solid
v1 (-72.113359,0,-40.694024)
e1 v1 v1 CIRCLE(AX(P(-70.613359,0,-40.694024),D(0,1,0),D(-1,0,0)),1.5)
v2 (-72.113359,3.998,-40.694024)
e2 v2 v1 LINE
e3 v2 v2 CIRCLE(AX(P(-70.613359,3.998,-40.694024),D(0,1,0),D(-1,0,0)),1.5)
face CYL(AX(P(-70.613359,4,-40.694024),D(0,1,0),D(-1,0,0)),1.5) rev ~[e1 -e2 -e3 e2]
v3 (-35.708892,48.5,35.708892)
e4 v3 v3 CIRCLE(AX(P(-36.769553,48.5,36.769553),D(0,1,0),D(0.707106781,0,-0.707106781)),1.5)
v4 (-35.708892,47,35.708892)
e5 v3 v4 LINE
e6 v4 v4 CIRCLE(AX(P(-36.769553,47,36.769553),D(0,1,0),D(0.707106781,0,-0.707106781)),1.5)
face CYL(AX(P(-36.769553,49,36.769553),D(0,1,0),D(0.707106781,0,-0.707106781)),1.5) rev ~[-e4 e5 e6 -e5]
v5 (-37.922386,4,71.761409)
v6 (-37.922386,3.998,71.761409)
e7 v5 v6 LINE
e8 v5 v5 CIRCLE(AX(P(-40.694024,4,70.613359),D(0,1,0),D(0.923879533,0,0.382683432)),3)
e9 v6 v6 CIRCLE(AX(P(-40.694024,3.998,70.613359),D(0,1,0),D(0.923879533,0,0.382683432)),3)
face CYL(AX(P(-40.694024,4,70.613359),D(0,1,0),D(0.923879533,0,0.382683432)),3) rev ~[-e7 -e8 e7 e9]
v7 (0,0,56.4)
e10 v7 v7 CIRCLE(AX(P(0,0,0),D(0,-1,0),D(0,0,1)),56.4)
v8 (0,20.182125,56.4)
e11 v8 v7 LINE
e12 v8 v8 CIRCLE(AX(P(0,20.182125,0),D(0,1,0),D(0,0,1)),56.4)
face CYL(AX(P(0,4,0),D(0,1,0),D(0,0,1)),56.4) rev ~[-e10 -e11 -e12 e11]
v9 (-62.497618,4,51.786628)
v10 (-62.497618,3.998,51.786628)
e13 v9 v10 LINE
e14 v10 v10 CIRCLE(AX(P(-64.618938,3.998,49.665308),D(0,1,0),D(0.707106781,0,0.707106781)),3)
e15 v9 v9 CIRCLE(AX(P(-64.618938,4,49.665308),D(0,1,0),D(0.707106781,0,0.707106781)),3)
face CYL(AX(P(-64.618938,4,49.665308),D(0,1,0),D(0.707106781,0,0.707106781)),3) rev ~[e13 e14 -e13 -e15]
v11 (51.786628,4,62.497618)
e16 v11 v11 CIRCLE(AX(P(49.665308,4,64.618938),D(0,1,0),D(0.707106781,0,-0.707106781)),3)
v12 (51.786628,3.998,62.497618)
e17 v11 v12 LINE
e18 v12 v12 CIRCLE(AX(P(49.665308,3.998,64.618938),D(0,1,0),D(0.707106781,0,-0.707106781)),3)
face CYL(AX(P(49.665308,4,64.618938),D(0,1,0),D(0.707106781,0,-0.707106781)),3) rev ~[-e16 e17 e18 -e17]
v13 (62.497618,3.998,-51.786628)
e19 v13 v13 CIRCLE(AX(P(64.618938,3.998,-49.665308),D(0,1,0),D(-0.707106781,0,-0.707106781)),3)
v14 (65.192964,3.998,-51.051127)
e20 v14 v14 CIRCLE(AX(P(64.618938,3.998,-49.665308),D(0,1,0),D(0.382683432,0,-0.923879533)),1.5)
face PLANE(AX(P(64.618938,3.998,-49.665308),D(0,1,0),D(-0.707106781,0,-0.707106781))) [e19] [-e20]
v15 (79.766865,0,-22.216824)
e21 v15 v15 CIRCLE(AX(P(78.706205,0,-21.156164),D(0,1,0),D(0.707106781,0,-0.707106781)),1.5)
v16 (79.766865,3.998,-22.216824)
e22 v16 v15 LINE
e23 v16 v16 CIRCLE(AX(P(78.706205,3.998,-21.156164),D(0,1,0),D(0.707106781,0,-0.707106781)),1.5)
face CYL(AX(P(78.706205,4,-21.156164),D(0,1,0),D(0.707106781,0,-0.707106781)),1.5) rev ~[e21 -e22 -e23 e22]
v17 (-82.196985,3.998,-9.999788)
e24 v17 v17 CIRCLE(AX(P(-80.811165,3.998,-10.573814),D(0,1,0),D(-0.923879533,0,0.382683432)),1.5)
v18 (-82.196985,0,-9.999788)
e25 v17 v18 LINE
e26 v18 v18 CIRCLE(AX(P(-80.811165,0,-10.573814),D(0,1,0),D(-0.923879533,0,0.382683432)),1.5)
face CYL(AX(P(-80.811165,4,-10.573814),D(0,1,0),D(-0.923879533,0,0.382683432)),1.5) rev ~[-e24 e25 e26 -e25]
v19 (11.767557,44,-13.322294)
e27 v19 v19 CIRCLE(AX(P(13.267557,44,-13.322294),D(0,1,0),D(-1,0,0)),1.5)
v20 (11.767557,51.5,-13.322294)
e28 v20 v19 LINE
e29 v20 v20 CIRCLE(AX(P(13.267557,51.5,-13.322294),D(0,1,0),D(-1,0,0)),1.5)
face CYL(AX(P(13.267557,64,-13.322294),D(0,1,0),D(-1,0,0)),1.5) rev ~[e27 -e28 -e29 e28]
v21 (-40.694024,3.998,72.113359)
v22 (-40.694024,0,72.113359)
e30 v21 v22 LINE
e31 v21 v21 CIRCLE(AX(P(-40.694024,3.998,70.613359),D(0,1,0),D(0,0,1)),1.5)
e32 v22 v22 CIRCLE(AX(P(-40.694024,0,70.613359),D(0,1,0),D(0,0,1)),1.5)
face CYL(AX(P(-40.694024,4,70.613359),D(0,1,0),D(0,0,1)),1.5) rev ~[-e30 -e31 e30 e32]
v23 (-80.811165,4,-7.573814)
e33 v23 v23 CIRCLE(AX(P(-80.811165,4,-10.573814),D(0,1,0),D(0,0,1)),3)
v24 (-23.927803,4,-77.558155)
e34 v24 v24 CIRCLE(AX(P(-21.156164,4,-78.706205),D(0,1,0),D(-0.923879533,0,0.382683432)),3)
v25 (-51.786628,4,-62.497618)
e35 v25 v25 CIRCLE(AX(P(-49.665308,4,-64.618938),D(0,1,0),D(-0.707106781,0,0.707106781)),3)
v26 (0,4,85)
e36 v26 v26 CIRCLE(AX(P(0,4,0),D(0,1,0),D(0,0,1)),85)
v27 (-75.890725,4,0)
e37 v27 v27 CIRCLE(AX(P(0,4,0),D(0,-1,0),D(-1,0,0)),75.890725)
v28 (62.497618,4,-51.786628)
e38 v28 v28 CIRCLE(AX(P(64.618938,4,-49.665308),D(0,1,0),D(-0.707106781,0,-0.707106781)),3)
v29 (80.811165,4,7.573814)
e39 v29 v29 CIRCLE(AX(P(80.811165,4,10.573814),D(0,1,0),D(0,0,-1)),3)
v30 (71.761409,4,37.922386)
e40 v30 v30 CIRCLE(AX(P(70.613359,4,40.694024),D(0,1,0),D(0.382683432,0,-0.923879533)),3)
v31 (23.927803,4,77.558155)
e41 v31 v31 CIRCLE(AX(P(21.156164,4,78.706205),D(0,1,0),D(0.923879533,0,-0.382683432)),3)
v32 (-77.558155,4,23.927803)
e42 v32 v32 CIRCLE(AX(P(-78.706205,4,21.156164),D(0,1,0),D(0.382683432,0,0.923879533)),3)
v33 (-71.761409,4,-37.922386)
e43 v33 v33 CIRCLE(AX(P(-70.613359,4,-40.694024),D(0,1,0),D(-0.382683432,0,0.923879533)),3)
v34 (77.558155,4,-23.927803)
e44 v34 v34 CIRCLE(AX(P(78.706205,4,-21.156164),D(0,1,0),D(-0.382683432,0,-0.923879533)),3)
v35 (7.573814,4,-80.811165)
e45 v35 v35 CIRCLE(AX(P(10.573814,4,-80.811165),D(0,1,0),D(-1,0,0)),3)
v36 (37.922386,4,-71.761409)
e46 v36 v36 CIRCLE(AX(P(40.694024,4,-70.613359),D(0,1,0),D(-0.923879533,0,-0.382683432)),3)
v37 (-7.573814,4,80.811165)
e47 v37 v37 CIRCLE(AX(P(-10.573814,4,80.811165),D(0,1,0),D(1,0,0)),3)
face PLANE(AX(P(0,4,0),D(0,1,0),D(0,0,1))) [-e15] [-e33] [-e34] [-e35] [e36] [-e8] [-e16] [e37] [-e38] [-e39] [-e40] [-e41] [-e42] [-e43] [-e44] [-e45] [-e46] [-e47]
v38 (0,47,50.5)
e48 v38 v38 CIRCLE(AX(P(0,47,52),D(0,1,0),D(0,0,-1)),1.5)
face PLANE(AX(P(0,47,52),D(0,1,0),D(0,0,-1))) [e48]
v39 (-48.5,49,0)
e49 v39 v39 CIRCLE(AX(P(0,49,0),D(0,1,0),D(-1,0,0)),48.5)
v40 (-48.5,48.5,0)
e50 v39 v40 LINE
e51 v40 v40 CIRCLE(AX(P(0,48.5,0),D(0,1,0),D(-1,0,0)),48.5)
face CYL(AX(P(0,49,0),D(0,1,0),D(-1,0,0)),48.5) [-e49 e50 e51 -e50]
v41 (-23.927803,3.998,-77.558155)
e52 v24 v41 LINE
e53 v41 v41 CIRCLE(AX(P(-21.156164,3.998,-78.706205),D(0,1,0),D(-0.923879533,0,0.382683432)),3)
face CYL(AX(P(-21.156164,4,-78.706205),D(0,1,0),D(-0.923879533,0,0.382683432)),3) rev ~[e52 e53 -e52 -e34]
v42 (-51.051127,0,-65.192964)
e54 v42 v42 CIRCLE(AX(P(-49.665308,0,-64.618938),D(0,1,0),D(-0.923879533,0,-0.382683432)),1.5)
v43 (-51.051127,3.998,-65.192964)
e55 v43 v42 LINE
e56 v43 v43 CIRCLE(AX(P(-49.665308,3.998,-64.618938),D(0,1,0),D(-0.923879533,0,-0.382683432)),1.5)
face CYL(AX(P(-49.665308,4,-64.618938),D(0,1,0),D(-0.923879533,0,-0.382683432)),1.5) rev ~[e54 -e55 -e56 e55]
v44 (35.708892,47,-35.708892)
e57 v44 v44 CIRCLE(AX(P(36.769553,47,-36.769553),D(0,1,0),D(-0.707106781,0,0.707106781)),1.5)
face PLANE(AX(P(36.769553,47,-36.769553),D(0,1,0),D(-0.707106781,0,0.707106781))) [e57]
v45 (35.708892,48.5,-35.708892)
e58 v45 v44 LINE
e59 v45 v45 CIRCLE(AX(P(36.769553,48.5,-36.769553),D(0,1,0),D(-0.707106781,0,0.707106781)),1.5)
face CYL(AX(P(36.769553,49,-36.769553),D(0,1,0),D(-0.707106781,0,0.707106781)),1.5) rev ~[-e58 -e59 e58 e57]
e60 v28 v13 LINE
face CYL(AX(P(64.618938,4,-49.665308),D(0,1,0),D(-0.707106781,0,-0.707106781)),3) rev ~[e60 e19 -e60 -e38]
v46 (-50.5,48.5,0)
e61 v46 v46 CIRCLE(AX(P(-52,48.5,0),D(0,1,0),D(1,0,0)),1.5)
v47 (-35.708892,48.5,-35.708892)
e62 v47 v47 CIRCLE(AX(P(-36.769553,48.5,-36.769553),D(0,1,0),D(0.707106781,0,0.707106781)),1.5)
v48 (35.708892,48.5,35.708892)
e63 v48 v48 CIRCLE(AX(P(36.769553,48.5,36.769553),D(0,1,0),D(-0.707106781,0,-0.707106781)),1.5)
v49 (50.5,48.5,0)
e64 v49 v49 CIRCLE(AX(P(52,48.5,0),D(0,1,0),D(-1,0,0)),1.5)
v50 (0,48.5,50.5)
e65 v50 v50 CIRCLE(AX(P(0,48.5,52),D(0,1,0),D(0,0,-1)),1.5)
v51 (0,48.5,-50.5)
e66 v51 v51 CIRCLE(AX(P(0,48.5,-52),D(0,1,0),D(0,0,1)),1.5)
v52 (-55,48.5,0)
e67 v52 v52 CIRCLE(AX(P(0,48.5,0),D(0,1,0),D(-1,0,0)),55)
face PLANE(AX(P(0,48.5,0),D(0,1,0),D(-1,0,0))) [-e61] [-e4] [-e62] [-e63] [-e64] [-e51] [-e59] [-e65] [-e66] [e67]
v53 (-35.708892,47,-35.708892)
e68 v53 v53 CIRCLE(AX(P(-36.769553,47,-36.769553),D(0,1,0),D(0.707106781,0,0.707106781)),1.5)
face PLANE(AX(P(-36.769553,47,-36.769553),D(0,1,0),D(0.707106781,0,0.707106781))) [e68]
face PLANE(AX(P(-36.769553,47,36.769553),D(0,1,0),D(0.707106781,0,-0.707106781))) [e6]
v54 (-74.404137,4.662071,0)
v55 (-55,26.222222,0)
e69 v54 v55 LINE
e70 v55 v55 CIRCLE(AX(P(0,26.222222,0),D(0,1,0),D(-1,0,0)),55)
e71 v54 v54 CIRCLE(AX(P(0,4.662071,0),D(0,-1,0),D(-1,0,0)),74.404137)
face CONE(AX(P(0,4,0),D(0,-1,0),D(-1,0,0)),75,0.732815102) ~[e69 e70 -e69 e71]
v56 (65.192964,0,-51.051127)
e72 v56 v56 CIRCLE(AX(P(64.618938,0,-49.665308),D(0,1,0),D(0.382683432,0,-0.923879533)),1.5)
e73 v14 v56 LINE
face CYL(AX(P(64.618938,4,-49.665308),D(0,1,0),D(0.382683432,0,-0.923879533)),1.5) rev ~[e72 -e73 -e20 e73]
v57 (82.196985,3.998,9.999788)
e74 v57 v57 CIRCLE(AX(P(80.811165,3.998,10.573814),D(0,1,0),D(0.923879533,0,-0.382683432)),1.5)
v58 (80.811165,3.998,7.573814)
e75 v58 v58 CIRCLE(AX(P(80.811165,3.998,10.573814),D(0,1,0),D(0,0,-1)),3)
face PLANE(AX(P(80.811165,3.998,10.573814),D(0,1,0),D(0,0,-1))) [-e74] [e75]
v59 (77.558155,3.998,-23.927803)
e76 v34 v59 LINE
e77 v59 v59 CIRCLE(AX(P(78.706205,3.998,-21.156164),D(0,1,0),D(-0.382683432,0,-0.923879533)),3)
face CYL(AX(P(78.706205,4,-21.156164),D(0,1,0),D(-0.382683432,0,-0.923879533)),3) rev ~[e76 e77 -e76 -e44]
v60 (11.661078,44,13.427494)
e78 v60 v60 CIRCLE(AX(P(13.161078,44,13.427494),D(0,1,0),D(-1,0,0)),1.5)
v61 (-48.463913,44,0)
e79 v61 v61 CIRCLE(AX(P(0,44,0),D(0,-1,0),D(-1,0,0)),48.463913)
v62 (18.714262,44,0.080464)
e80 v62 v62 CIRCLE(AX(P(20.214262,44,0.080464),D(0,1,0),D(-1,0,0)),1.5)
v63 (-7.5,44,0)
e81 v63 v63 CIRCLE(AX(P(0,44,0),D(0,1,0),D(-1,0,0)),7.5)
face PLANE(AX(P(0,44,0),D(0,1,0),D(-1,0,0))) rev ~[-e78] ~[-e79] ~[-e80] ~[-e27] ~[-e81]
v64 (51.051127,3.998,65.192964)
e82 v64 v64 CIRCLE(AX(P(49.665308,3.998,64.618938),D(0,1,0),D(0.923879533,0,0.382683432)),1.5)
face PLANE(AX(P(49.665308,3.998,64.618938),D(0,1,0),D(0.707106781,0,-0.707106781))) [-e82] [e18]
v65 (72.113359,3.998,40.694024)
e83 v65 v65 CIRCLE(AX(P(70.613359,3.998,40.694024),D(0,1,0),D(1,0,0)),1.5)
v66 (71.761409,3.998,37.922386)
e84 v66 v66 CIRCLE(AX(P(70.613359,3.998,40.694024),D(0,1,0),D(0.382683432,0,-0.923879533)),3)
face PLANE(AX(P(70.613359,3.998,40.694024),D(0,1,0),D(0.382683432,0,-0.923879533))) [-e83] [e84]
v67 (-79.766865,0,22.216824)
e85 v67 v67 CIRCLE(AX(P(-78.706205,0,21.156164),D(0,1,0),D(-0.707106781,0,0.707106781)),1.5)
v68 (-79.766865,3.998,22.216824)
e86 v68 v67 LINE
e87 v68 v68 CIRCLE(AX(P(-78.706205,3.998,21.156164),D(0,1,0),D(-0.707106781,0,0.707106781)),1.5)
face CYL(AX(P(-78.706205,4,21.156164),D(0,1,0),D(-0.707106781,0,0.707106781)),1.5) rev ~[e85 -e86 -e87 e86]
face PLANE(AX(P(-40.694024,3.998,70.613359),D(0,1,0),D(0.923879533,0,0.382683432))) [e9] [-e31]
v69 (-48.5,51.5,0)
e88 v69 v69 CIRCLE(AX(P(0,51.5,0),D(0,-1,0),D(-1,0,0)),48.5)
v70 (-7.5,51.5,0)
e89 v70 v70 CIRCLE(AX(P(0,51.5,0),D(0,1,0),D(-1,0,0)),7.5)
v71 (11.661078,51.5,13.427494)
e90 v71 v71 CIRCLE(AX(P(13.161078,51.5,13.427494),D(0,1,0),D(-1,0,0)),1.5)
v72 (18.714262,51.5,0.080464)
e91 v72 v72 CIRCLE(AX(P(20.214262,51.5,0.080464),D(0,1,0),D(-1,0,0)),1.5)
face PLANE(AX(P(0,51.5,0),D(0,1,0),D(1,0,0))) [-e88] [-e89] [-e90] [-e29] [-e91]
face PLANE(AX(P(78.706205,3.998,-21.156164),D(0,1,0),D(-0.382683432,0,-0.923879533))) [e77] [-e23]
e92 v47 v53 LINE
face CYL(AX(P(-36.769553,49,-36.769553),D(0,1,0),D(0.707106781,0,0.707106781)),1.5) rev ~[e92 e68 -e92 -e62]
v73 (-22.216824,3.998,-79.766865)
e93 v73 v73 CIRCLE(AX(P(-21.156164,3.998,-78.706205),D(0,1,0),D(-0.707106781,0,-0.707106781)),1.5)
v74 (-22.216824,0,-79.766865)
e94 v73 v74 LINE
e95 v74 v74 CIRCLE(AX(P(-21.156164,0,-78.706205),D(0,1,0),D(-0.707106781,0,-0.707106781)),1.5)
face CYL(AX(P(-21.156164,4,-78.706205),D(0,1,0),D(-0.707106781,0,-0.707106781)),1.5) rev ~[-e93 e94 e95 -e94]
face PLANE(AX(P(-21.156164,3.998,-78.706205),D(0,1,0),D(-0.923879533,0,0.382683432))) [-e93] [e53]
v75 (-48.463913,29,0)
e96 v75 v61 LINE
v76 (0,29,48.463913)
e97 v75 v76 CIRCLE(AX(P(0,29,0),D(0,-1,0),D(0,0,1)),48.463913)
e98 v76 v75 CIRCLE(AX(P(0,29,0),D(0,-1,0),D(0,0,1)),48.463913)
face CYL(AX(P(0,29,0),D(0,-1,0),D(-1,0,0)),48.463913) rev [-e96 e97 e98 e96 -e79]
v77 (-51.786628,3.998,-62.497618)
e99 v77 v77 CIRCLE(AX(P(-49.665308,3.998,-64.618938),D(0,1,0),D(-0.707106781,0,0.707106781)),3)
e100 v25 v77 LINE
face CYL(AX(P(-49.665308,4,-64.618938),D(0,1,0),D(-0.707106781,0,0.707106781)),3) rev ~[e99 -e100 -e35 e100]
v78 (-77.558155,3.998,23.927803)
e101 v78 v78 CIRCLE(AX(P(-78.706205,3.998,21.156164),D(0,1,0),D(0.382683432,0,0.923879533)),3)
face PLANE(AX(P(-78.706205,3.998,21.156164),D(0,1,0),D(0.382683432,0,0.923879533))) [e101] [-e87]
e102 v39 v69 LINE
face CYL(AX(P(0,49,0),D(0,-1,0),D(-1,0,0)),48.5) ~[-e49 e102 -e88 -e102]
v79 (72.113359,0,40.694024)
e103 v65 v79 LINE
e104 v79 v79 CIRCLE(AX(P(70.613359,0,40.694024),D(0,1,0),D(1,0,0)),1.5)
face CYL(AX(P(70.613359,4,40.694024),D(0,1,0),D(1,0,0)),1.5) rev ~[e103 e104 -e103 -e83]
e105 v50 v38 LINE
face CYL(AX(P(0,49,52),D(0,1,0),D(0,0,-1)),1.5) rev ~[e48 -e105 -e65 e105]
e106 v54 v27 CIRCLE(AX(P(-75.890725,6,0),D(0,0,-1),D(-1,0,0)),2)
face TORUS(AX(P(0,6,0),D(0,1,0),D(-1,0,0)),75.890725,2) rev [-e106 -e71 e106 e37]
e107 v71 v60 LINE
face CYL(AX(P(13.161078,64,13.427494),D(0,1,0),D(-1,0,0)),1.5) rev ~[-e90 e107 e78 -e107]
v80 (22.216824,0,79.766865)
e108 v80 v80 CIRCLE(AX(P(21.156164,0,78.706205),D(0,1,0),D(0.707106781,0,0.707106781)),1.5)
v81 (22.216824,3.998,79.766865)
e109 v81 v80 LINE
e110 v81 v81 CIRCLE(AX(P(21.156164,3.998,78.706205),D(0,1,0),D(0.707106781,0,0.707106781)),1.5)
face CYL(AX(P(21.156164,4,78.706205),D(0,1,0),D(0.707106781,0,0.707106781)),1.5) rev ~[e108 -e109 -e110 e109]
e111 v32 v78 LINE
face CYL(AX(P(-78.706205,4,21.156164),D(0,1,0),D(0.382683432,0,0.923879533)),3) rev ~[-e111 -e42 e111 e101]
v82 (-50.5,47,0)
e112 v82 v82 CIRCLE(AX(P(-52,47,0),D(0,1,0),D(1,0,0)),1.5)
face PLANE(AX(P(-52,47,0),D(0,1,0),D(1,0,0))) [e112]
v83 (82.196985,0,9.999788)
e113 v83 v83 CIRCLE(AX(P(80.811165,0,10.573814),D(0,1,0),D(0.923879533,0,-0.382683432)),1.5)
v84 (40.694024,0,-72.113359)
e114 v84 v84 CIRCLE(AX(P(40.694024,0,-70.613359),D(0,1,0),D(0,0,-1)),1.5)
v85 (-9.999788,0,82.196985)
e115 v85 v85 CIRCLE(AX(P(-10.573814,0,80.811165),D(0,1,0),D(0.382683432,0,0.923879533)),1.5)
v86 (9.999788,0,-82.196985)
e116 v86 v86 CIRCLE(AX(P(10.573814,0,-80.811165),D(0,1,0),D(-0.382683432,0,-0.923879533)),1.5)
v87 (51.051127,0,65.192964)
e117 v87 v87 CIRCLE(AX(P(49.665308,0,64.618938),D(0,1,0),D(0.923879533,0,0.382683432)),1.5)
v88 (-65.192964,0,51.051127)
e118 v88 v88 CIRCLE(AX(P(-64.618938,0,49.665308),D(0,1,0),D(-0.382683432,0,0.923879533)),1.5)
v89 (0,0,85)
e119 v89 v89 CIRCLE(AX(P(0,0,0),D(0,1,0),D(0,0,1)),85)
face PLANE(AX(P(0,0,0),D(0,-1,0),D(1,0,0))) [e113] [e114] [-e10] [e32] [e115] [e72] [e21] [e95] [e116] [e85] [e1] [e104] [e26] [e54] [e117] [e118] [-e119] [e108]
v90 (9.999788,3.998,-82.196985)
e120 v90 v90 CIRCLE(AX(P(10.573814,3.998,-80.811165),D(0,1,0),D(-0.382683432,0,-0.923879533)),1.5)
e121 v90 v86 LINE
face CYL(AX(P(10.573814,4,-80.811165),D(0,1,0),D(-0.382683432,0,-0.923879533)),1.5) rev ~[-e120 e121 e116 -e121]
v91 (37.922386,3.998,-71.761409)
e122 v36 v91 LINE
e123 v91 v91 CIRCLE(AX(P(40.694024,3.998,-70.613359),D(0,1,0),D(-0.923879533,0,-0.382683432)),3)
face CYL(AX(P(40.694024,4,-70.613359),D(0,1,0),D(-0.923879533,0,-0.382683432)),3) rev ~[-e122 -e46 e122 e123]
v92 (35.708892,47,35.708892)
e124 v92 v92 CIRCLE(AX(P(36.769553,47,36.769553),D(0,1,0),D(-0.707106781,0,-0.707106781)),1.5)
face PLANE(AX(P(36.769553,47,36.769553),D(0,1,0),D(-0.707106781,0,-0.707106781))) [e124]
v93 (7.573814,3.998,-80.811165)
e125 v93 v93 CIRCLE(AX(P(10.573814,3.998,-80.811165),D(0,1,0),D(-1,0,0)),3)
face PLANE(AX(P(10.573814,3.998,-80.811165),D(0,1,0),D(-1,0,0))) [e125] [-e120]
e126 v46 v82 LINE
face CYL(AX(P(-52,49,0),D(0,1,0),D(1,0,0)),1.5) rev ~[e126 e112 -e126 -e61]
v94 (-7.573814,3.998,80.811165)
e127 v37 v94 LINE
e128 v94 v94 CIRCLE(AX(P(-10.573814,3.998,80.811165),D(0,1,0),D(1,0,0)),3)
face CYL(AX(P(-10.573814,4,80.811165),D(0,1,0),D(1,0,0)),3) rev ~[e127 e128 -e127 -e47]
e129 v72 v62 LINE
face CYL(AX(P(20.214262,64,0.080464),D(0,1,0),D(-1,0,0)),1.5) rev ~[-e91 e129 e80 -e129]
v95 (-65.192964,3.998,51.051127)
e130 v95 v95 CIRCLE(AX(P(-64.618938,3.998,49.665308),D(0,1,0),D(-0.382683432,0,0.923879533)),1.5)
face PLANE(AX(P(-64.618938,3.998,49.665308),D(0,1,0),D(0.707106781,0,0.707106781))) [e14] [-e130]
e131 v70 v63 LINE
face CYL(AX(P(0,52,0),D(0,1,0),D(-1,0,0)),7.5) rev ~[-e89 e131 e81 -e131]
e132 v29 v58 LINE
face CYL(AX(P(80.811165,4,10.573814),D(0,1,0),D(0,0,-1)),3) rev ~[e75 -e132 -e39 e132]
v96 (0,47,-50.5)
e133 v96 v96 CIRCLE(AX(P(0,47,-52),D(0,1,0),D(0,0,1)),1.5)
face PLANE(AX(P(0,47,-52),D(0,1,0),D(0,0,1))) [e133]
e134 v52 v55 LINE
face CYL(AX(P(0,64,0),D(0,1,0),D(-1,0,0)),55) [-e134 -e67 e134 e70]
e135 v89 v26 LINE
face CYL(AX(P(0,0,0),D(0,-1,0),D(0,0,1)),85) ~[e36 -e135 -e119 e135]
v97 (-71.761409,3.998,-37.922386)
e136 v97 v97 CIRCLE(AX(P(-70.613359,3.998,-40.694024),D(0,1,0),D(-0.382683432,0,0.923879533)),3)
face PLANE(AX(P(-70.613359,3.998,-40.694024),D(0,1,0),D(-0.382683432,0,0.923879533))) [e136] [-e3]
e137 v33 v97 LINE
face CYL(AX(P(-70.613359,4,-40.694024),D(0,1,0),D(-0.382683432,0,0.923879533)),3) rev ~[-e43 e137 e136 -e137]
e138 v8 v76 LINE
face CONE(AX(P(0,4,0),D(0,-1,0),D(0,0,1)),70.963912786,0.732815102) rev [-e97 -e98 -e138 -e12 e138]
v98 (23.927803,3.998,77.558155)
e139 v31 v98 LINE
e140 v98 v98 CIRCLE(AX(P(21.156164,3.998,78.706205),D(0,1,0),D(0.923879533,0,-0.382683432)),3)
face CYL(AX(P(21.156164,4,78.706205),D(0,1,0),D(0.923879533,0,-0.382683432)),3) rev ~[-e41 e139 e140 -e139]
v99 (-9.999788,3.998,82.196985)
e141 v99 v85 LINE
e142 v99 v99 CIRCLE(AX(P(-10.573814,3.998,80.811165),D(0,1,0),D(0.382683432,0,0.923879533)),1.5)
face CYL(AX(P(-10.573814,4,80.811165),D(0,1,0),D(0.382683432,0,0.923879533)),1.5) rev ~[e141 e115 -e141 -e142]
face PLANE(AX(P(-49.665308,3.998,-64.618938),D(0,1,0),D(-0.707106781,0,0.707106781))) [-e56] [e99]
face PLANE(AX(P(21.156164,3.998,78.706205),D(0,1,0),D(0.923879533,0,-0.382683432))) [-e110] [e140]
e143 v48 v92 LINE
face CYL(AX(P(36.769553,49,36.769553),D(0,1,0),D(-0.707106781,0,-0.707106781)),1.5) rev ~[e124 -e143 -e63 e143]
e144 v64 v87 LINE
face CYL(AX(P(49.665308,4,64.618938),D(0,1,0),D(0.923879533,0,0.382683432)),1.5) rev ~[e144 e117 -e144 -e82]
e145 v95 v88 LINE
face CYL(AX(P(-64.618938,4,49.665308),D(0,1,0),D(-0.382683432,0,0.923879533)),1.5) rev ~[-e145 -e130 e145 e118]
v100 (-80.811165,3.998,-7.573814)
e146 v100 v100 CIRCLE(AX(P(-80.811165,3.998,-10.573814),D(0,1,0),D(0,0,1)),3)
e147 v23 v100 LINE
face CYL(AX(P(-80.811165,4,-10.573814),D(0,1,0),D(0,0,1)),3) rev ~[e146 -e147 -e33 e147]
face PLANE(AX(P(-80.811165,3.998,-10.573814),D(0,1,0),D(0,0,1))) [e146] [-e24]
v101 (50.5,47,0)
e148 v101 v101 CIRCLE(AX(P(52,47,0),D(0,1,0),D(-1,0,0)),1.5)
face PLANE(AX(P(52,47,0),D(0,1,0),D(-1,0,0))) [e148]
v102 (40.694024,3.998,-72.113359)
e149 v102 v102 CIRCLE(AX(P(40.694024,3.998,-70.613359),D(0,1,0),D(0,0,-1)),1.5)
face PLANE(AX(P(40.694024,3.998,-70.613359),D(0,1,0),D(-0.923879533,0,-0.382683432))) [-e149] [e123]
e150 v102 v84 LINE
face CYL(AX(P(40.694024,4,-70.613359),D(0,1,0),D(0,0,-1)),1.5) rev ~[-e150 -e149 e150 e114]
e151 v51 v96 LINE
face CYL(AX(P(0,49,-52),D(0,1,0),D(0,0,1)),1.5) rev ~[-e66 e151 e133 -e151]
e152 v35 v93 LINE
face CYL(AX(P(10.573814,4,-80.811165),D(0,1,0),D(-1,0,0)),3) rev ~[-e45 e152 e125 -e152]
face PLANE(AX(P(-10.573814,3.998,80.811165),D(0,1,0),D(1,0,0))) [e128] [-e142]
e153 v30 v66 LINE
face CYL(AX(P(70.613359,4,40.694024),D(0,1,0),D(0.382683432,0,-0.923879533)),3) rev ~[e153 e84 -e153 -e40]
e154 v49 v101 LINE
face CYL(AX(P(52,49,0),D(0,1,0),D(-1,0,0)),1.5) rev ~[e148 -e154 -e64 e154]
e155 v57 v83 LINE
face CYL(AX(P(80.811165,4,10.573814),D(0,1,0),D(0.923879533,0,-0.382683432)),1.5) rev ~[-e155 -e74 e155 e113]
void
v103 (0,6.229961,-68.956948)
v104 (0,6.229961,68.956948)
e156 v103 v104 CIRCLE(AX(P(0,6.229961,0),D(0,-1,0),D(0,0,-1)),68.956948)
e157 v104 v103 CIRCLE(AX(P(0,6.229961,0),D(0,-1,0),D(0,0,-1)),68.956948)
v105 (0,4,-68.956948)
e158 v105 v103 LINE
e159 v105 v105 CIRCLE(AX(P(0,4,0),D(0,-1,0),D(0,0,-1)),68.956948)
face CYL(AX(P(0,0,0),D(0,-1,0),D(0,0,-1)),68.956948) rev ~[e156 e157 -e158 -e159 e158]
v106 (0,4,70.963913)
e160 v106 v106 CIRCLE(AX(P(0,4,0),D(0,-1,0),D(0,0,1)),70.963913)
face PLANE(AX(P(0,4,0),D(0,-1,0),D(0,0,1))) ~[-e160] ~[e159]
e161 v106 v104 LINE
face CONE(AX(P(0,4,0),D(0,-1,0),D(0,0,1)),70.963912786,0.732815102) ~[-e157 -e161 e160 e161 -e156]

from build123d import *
from build123d.topology import SkipClean

# Parameters (mm, degrees)
SKETCH_1_R               = 85
EXTRUDE_1_DEPTH          = 4
SKETCH_2_R               = 56.4
CUT_EXTRUDE_1_DEPTH      = 50
EXTRUDE_2_REACH          = 125.657
SKETCH_8_R               = 68.956948121
SKETCH_8_R_2             = 56.4
SKETCH_9_R               = 1.5
CUT_EXTRUDE_3_DEPTH      = 5000
PATTERN_CIRCULAR_1_COUNT = 16
SKETCH_11_R              = 52.5
SKETCH_11_R_2            = 48.463912786
EXTRUDE_3_DEPTH          = 30
SKETCH_12_R              = 52.5
SKETCH_12_R_2            = 22.5
EXTRUDE_4_DEPTH          = 5
FILLET_1_R               = 2
SKETCH_13_R              = 85
SKETCH_13_R_2            = 56.4
EXTRUDE_5_DEPTH          = 1
SKETCH_14_R              = 1.5
CUT_EXTRUDE_4_DEPTH      = 50
PATTERN_CIRCULAR_2_COUNT = 16
CHAMFER_2_SIZE           = 5
SKETCH_15_R              = 45
SKETCH_15_R_2            = 43
CUT_EXTRUDE_5_DEPTH      = 2
EXTRUDE_START            = -5
SKETCH_16_R              = 22.5
SKETCH_16_R_2            = 15
EXTRUDE_6_DEPTH          = 5
SKETCH_18_R              = 3
CUT_EXTRUDE_7_DEPTH      = 0.002
PATTERN_CIRCULAR_3_COUNT = 16
EXTRUDE_7_REACH          = 138.657
SKETCH_19_R              = 55
SKETCH_19_R_2            = 49.128121992
SKETCH_20_R              = 47.909164775
SKETCH_20_R_2            = 36.467922282
EXTRUDE_9_DEPTH          = 2
SKETCH_21_R              = 61.010488539
CUT_EXTRUDE_8_DEPTH      = 15
SKETCH_22_R              = 55
EXTRUDE_11_DEPTH         = 5
SKETCH_23_R              = 1.5
CUT_EXTRUDE_9_DEPTH      = 2
PATTERN_CIRCULAR_4_COUNT = 8
SKETCH_24_R              = 48.5
EXTRUDE_12_DEPTH         = 3
SKETCH_25_R              = 7.5
CUT_EXTRUDE_10_DEPTH     = 500
SKETCH_26_R              = 99.377055334
CUT_EXTRUDE_11_DEPTH     = 1
SKETCH_27_R              = 55
SKETCH_27_R_2            = 48.5
CUT_EXTRUDE_13_DEPTH     = 0.5
SKETCH_28_R              = 50.330006294
CUT_EXTRUDE_14_DEPTH     = 0.5
SKETCH_17_R              = 1.5
CUT_EXTRUDE_17_DEPTH     = 20


with BuildPart() as part:
    # 草图1 → 凸台-拉伸1 (new body)
    with BuildSketch(Plane(origin=(0, 0, 0), x_dir=(1, 0, 0), z_dir=(0, 1, 0))):
        with Locations(Location((0, 0, 0), (0, 0, 270))):
            Circle(SKETCH_1_R)
    extrude(amount=EXTRUDE_1_DEPTH)

    # 草图2 → 切除-拉伸1 (cut)
    with BuildSketch(Plane(origin=(0, 4, 0), x_dir=(1, 0, 0), z_dir=(0, 1, 0))):
        with Locations(Location((0, 0, 0), (0, 0, 270))):
            Circle(SKETCH_2_R)
    extrude(amount=-CUT_EXTRUDE_1_DEPTH, mode=Mode.SUBTRACT)

    # 草图3 → 旋转1 (revolve)
    with BuildSketch(Plane.XY):
        Polygon((0, 4), (-75, 4), (-52.5, 29), (0, 29), align=None)
    revolve(axis=Axis((0, 29, 0), (0, -1, 0)))

    # 草图7 → 切除-旋转1 (revolve, cut)
    with BuildSketch(Plane.XY, mode=Mode.PRIVATE) as cut_revolve_1_sk:
        Polygon((0, 4), (-70.963912786, 4), (-48.463912786, 29), (0, 29), align=None)
    revolve(cut_revolve_1_sk.sketch.rotate(Axis((0, 29, 0), (0, -1, 0)), 270), axis=Axis((0, 29, 0), (0, -1, 0)), mode=Mode.SUBTRACT)

    # 凸台-拉伸2: up to this cone (the profile starts inside it)
    extrude_2_end = Plane(origin=(0, 0, 0), z_dir=(0, -1, 0)).offset(-82.848790984) * Cone(1e-06, 255.212734293, 283.56970377, align=(Align.CENTER, Align.CENTER, Align.MIN), mode=Mode.PRIVATE)
    # 草图8 → 凸台-拉伸2 (add, up to the surface)
    with BuildSketch(Plane.XZ, mode=Mode.PRIVATE) as extrude_2_sk1:
        with Locations(Location((0, 0, 0), (0, 0, 270))):
            Circle(SKETCH_8_R)
        with Locations(Location((0, 0, 0), (0, 0, 90))):
            Circle(SKETCH_8_R_2, mode=Mode.SUBTRACT)
    extrude_2_tool1 = extrude(extrude_2_sk1.sketch, amount=-EXTRUDE_2_REACH, mode=Mode.PRIVATE) & extrude_2_end
    add(extrude_2_tool1.solids().sort_by_distance((0, 0, 67.006551))[0])

    # 草图9 → 切除-拉伸3 (cut)
    with BuildSketch(Plane(origin=(0, 4, 0), x_dir=(1, 0, 0), z_dir=(0, 1, 0))):
        with Locations(Location((-40.694024124, -70.613358514, 0), (0, 0, 270))):
            Circle(SKETCH_9_R)
    cut_extrude_3 = extrude(amount=-CUT_EXTRUDE_3_DEPTH, mode=Mode.SUBTRACT)

    # 阵列(圆周)1: 切除-拉伸3 ×16 about axis
    pattern_circular_1_axis = Axis((0, 0, 0), (0, 1, 0))
    for i in range(1, PATTERN_CIRCULAR_1_COUNT):
        add(cut_extrude_3.rotate(pattern_circular_1_axis, i * 360 / PATTERN_CIRCULAR_1_COUNT), mode=Mode.SUBTRACT)

    # 草图11 → 凸台-拉伸3 (add)
    with BuildSketch(Plane(origin=(0, 29, 0), x_dir=(1, 0, 0), z_dir=(0, 1, 0))):
        with Locations(Location((0, 0, 0), (0, 0, 180))):
            Circle(SKETCH_11_R)
        with Locations(Location((0, 0, 0), (0, 0, 180))):
            Circle(SKETCH_11_R_2, mode=Mode.SUBTRACT)
    extrude(amount=EXTRUDE_3_DEPTH)

    # 草图12 → 凸台-拉伸4 (add)
    with BuildSketch(Plane(origin=(0, 59, 0), x_dir=(1, 0, 0), z_dir=(0, 1, 0))):
        with Locations(Location((0, 0, 0), (0, 0, 180))):
            Circle(SKETCH_12_R)
        with Locations(Location((0, 0, 0), (0, 0, 180))):
            Circle(SKETCH_12_R_2, mode=Mode.SUBTRACT)
    extrude(amount=EXTRUDE_4_DEPTH)

    # 圆角1
    fillet_1_edges = [part.edges().sort_by_distance(p)[0] for p in [
        (75, 4, 0),
    ]]
    fillet(fillet_1_edges, radius=FILLET_1_R)

    # 草图13 → 凸台-拉伸5 (add)
    with SkipClean():  # the faces are left unmerged after this step: merging them gives an invalid solid
        with BuildSketch(Plane.XZ):
            with Locations(Location((0, 0, 0), (0, 0, 270))):
                Circle(SKETCH_13_R)
            with Locations(Location((0, 0, 0), (0, 0, 270))):
                Circle(SKETCH_13_R_2, mode=Mode.SUBTRACT)
        extrude(amount=EXTRUDE_5_DEPTH)

    # 草图14 → 切除-拉伸4 (cut)
    with SkipClean():  # the faces are left unmerged after this step: merging them gives an invalid solid
        with BuildSketch(Plane(origin=(0, 4, 0), x_dir=(1, 0, 0), z_dir=(0, 1, 0))):
            with Locations(Location((-70.613358514, 40.694024124, 0), (0, 0, 180))):
                Circle(SKETCH_14_R)
        cut_extrude_4 = extrude(amount=-CUT_EXTRUDE_4_DEPTH, mode=Mode.SUBTRACT)

    # 阵列(圆周)2: 切除-拉伸4 ×16 about axis
    with SkipClean():  # the faces are left unmerged after this step: merging them gives an invalid solid
        pattern_circular_2_axis = Axis((0, 0, 0), (0, 1, 0))
        for i in range(1, PATTERN_CIRCULAR_2_COUNT):
            add(cut_extrude_4.rotate(pattern_circular_2_axis, i * 360 / PATTERN_CIRCULAR_2_COUNT), mode=Mode.SUBTRACT)

    # 倒角2
    chamfer_2_edges = [part.edges().sort_by_distance(p)[0] for p in [
        (48.463912786, 59, 0),
    ]]
    chamfer(chamfer_2_edges, length=CHAMFER_2_SIZE)

    # 草图15 → 切除-拉伸5 (cut)
    with SkipClean():  # the faces are left unmerged after this step: merging them gives an invalid solid
        with BuildSketch(Plane(origin=(0, 64, 0), x_dir=(1, 0, 0), z_dir=(0, 1, 0))):
            with Locations(Location((0, 0, 0), (0, 0, 180))):
                Circle(SKETCH_15_R)
            with Locations(Location((0, 0, 0), (0, 0, 180))):
                Circle(SKETCH_15_R_2, mode=Mode.SUBTRACT)
        extrude(amount=-CUT_EXTRUDE_5_DEPTH, mode=Mode.SUBTRACT)

    # 草图16 → 凸台-拉伸6 (add)
    with SkipClean():  # the faces are left unmerged after this step: merging them gives an invalid solid
        with BuildSketch(Plane(origin=(0, 64, 0), x_dir=(1, 0, 0), z_dir=(0, 1, 0)).offset(EXTRUDE_START)):
            Circle(SKETCH_16_R)
            with Locations(Location((0, 0, 0), (0, 0, 180))):
                Circle(SKETCH_16_R_2, mode=Mode.SUBTRACT)
        extrude(amount=EXTRUDE_6_DEPTH)

    # 草图18 → 切除-拉伸7 (cut)
    with SkipClean():  # the faces are left unmerged after this step: merging them gives an invalid solid
        with BuildSketch(Plane(origin=(0, 4, 0), x_dir=(1, 0, 0), z_dir=(0, 1, 0))):
            with Locations(Location((-80.811165481, 10.573813577, 0), (0, 0, 270))):
                Circle(SKETCH_18_R)
        cut_extrude_7 = extrude(amount=-CUT_EXTRUDE_7_DEPTH, mode=Mode.SUBTRACT)

    # 阵列(圆周)3: 切除-拉伸7 ×16 about axis
    with SkipClean():  # the faces are left unmerged after this step: merging them gives an invalid solid
        pattern_circular_3_axis = Axis((0, 0, 0), (0, 1, 0))
        for i in range(1, PATTERN_CIRCULAR_3_COUNT):
            add(cut_extrude_7.rotate(pattern_circular_3_axis, i * 360 / PATTERN_CIRCULAR_3_COUNT), mode=Mode.SUBTRACT)

    # 凸台-拉伸7: up to this cone (the profile starts outside it)
    with SkipClean():  # the faces are left unmerged after this step: merging them gives an invalid solid
        extrude_7_end = Plane(origin=(0, 64, 0), z_dir=(0, -1, 0)).offset(-23.333332333) * Cone(1e-06, 165.1413, 183.490332333, align=(Align.CENTER, Align.CENTER, Align.MIN), mode=Mode.PRIVATE)
        # 草图19 → 凸台-拉伸7 (add, up to the surface)
        with BuildSketch(Plane(origin=(0, 64, 0), x_dir=(1, 0, 0), z_dir=(0, 1, 0)), mode=Mode.PRIVATE) as extrude_7_sk1:
            with Locations(Location((0, 0, 0), (0, 0, 180))):
                Circle(SKETCH_19_R)
            Circle(SKETCH_19_R_2, mode=Mode.SUBTRACT)
        extrude_7_tool1 = extrude(extrude_7_sk1.sketch, amount=-EXTRUDE_7_REACH, mode=Mode.PRIVATE) - extrude_7_end
        add(extrude_7_tool1.solids().sort_by_distance((53.444365, 64, 0))[0])

    # 草图20 → 凸台-拉伸9 (add)
    with SkipClean():  # the faces are left unmerged after this step: merging them gives an invalid solid
        with BuildSketch(Plane(origin=(0, 64, 0), x_dir=(1, 0, 0), z_dir=(0, 1, 0))):
            Circle(SKETCH_20_R)
            Circle(SKETCH_20_R_2, mode=Mode.SUBTRACT)
        extrude(amount=-EXTRUDE_9_DEPTH)

    # 草图21 → 切除-拉伸8 (cut)
    with SkipClean():  # the faces are left unmerged after this step: merging them gives an invalid solid
        with BuildSketch(Plane(origin=(0, 64, 0), x_dir=(1, 0, 0), z_dir=(0, 1, 0))):
            Circle(SKETCH_21_R)
        extrude(amount=-CUT_EXTRUDE_8_DEPTH, mode=Mode.SUBTRACT)

    # 草图22 → 凸台-拉伸11 (add)
    with SkipClean():  # the faces are left unmerged after this step: merging them gives an invalid solid
        with BuildSketch(Plane(origin=(0, 49, 0), x_dir=(1, 0, 0), z_dir=(0, 1, 0))):
            with Locations(Location((0, 0, 0), (0, 0, 180))):
                Circle(SKETCH_22_R)
        extrude(amount=-EXTRUDE_11_DEPTH)

    # 草图23 → 切除-拉伸9 (cut)
    with SkipClean():  # the faces are left unmerged after this step: merging them gives an invalid solid
        with BuildSketch(Plane(origin=(0, 49, 0), x_dir=(1, 0, 0), z_dir=(0, 1, 0))):
            with Locations(Location((52, 0, 0), (0, 0, 180))):
                Circle(SKETCH_23_R)
        cut_extrude_9 = extrude(amount=-CUT_EXTRUDE_9_DEPTH, mode=Mode.SUBTRACT)

    # 阵列(圆周)4: 切除-拉伸9 ×8 about axis
    with SkipClean():  # the faces are left unmerged after this step: merging them gives an invalid solid
        pattern_circular_4_axis = Axis((0, 0, 0), (0, 1, 0))
        for i in range(1, PATTERN_CIRCULAR_4_COUNT):
            add(cut_extrude_9.rotate(pattern_circular_4_axis, i * 360 / PATTERN_CIRCULAR_4_COUNT), mode=Mode.SUBTRACT)

    # 草图24 → 凸台-拉伸12 (add)
    with SkipClean():  # the faces are left unmerged after this step: merging them gives an invalid solid
        with BuildSketch(Plane(origin=(0, 49, 0), x_dir=(1, 0, 0), z_dir=(0, 1, 0))):
            with Locations(Location((0, 0, 0), (0, 0, 180))):
                Circle(SKETCH_24_R)
        extrude(amount=EXTRUDE_12_DEPTH)

    # 草图25 → 切除-拉伸10 (cut)
    with SkipClean():  # the faces are left unmerged after this step: merging them gives an invalid solid
        with BuildSketch(Plane(origin=(0, 52, 0), x_dir=(1, 0, 0), z_dir=(0, 1, 0))):
            with Locations(Location((0, 0, 0), (0, 0, 180))):
                Circle(SKETCH_25_R)
        extrude(amount=-CUT_EXTRUDE_10_DEPTH, mode=Mode.SUBTRACT)

    # 草图26 → 切除-拉伸11 (cut)
    with BuildSketch(Plane.XZ.offset(1)):
        Circle(SKETCH_26_R)
    extrude(amount=-CUT_EXTRUDE_11_DEPTH, mode=Mode.SUBTRACT)

    # 草图27 → 切除-拉伸13 (cut)
    with BuildSketch(Plane(origin=(0, 49, 0), x_dir=(1, 0, 0), z_dir=(0, 1, 0))):
        with Locations(Location((0, 0, 0), (0, 0, 180))):
            Circle(SKETCH_27_R)
        with Locations(Location((0, 0, 0), (0, 0, 180))):
            Circle(SKETCH_27_R_2, mode=Mode.SUBTRACT)
    extrude(amount=-CUT_EXTRUDE_13_DEPTH, mode=Mode.SUBTRACT)

    # 草图28 → 切除-拉伸14 (cut)
    with BuildSketch(Plane(origin=(0, 52, 0), x_dir=(1, 0, 0), z_dir=(0, 1, 0))):
        Circle(SKETCH_28_R)
    extrude(amount=-CUT_EXTRUDE_14_DEPTH, mode=Mode.SUBTRACT)

    # 草图17 → 切除-拉伸17 (cut)
    with BuildSketch(Plane(origin=(0, 64, 0), x_dir=(1, 0, 0), z_dir=(0, 1, 0))):
        with Locations(Location((13.161077513, -13.427494448, 0), (0, 0, 180))):
            Circle(SKETCH_17_R)
        with Locations(Location((20.214261652, -0.080464123, 0), (0, 0, 180))):
            Circle(SKETCH_17_R)
        with Locations(Location((13.267556705, 13.322293629, 0), (0, 0, 180))):
            Circle(SKETCH_17_R)
    extrude(amount=-CUT_EXTRUDE_17_DEPTH, mode=Mode.SUBTRACT)


solid = part.part
